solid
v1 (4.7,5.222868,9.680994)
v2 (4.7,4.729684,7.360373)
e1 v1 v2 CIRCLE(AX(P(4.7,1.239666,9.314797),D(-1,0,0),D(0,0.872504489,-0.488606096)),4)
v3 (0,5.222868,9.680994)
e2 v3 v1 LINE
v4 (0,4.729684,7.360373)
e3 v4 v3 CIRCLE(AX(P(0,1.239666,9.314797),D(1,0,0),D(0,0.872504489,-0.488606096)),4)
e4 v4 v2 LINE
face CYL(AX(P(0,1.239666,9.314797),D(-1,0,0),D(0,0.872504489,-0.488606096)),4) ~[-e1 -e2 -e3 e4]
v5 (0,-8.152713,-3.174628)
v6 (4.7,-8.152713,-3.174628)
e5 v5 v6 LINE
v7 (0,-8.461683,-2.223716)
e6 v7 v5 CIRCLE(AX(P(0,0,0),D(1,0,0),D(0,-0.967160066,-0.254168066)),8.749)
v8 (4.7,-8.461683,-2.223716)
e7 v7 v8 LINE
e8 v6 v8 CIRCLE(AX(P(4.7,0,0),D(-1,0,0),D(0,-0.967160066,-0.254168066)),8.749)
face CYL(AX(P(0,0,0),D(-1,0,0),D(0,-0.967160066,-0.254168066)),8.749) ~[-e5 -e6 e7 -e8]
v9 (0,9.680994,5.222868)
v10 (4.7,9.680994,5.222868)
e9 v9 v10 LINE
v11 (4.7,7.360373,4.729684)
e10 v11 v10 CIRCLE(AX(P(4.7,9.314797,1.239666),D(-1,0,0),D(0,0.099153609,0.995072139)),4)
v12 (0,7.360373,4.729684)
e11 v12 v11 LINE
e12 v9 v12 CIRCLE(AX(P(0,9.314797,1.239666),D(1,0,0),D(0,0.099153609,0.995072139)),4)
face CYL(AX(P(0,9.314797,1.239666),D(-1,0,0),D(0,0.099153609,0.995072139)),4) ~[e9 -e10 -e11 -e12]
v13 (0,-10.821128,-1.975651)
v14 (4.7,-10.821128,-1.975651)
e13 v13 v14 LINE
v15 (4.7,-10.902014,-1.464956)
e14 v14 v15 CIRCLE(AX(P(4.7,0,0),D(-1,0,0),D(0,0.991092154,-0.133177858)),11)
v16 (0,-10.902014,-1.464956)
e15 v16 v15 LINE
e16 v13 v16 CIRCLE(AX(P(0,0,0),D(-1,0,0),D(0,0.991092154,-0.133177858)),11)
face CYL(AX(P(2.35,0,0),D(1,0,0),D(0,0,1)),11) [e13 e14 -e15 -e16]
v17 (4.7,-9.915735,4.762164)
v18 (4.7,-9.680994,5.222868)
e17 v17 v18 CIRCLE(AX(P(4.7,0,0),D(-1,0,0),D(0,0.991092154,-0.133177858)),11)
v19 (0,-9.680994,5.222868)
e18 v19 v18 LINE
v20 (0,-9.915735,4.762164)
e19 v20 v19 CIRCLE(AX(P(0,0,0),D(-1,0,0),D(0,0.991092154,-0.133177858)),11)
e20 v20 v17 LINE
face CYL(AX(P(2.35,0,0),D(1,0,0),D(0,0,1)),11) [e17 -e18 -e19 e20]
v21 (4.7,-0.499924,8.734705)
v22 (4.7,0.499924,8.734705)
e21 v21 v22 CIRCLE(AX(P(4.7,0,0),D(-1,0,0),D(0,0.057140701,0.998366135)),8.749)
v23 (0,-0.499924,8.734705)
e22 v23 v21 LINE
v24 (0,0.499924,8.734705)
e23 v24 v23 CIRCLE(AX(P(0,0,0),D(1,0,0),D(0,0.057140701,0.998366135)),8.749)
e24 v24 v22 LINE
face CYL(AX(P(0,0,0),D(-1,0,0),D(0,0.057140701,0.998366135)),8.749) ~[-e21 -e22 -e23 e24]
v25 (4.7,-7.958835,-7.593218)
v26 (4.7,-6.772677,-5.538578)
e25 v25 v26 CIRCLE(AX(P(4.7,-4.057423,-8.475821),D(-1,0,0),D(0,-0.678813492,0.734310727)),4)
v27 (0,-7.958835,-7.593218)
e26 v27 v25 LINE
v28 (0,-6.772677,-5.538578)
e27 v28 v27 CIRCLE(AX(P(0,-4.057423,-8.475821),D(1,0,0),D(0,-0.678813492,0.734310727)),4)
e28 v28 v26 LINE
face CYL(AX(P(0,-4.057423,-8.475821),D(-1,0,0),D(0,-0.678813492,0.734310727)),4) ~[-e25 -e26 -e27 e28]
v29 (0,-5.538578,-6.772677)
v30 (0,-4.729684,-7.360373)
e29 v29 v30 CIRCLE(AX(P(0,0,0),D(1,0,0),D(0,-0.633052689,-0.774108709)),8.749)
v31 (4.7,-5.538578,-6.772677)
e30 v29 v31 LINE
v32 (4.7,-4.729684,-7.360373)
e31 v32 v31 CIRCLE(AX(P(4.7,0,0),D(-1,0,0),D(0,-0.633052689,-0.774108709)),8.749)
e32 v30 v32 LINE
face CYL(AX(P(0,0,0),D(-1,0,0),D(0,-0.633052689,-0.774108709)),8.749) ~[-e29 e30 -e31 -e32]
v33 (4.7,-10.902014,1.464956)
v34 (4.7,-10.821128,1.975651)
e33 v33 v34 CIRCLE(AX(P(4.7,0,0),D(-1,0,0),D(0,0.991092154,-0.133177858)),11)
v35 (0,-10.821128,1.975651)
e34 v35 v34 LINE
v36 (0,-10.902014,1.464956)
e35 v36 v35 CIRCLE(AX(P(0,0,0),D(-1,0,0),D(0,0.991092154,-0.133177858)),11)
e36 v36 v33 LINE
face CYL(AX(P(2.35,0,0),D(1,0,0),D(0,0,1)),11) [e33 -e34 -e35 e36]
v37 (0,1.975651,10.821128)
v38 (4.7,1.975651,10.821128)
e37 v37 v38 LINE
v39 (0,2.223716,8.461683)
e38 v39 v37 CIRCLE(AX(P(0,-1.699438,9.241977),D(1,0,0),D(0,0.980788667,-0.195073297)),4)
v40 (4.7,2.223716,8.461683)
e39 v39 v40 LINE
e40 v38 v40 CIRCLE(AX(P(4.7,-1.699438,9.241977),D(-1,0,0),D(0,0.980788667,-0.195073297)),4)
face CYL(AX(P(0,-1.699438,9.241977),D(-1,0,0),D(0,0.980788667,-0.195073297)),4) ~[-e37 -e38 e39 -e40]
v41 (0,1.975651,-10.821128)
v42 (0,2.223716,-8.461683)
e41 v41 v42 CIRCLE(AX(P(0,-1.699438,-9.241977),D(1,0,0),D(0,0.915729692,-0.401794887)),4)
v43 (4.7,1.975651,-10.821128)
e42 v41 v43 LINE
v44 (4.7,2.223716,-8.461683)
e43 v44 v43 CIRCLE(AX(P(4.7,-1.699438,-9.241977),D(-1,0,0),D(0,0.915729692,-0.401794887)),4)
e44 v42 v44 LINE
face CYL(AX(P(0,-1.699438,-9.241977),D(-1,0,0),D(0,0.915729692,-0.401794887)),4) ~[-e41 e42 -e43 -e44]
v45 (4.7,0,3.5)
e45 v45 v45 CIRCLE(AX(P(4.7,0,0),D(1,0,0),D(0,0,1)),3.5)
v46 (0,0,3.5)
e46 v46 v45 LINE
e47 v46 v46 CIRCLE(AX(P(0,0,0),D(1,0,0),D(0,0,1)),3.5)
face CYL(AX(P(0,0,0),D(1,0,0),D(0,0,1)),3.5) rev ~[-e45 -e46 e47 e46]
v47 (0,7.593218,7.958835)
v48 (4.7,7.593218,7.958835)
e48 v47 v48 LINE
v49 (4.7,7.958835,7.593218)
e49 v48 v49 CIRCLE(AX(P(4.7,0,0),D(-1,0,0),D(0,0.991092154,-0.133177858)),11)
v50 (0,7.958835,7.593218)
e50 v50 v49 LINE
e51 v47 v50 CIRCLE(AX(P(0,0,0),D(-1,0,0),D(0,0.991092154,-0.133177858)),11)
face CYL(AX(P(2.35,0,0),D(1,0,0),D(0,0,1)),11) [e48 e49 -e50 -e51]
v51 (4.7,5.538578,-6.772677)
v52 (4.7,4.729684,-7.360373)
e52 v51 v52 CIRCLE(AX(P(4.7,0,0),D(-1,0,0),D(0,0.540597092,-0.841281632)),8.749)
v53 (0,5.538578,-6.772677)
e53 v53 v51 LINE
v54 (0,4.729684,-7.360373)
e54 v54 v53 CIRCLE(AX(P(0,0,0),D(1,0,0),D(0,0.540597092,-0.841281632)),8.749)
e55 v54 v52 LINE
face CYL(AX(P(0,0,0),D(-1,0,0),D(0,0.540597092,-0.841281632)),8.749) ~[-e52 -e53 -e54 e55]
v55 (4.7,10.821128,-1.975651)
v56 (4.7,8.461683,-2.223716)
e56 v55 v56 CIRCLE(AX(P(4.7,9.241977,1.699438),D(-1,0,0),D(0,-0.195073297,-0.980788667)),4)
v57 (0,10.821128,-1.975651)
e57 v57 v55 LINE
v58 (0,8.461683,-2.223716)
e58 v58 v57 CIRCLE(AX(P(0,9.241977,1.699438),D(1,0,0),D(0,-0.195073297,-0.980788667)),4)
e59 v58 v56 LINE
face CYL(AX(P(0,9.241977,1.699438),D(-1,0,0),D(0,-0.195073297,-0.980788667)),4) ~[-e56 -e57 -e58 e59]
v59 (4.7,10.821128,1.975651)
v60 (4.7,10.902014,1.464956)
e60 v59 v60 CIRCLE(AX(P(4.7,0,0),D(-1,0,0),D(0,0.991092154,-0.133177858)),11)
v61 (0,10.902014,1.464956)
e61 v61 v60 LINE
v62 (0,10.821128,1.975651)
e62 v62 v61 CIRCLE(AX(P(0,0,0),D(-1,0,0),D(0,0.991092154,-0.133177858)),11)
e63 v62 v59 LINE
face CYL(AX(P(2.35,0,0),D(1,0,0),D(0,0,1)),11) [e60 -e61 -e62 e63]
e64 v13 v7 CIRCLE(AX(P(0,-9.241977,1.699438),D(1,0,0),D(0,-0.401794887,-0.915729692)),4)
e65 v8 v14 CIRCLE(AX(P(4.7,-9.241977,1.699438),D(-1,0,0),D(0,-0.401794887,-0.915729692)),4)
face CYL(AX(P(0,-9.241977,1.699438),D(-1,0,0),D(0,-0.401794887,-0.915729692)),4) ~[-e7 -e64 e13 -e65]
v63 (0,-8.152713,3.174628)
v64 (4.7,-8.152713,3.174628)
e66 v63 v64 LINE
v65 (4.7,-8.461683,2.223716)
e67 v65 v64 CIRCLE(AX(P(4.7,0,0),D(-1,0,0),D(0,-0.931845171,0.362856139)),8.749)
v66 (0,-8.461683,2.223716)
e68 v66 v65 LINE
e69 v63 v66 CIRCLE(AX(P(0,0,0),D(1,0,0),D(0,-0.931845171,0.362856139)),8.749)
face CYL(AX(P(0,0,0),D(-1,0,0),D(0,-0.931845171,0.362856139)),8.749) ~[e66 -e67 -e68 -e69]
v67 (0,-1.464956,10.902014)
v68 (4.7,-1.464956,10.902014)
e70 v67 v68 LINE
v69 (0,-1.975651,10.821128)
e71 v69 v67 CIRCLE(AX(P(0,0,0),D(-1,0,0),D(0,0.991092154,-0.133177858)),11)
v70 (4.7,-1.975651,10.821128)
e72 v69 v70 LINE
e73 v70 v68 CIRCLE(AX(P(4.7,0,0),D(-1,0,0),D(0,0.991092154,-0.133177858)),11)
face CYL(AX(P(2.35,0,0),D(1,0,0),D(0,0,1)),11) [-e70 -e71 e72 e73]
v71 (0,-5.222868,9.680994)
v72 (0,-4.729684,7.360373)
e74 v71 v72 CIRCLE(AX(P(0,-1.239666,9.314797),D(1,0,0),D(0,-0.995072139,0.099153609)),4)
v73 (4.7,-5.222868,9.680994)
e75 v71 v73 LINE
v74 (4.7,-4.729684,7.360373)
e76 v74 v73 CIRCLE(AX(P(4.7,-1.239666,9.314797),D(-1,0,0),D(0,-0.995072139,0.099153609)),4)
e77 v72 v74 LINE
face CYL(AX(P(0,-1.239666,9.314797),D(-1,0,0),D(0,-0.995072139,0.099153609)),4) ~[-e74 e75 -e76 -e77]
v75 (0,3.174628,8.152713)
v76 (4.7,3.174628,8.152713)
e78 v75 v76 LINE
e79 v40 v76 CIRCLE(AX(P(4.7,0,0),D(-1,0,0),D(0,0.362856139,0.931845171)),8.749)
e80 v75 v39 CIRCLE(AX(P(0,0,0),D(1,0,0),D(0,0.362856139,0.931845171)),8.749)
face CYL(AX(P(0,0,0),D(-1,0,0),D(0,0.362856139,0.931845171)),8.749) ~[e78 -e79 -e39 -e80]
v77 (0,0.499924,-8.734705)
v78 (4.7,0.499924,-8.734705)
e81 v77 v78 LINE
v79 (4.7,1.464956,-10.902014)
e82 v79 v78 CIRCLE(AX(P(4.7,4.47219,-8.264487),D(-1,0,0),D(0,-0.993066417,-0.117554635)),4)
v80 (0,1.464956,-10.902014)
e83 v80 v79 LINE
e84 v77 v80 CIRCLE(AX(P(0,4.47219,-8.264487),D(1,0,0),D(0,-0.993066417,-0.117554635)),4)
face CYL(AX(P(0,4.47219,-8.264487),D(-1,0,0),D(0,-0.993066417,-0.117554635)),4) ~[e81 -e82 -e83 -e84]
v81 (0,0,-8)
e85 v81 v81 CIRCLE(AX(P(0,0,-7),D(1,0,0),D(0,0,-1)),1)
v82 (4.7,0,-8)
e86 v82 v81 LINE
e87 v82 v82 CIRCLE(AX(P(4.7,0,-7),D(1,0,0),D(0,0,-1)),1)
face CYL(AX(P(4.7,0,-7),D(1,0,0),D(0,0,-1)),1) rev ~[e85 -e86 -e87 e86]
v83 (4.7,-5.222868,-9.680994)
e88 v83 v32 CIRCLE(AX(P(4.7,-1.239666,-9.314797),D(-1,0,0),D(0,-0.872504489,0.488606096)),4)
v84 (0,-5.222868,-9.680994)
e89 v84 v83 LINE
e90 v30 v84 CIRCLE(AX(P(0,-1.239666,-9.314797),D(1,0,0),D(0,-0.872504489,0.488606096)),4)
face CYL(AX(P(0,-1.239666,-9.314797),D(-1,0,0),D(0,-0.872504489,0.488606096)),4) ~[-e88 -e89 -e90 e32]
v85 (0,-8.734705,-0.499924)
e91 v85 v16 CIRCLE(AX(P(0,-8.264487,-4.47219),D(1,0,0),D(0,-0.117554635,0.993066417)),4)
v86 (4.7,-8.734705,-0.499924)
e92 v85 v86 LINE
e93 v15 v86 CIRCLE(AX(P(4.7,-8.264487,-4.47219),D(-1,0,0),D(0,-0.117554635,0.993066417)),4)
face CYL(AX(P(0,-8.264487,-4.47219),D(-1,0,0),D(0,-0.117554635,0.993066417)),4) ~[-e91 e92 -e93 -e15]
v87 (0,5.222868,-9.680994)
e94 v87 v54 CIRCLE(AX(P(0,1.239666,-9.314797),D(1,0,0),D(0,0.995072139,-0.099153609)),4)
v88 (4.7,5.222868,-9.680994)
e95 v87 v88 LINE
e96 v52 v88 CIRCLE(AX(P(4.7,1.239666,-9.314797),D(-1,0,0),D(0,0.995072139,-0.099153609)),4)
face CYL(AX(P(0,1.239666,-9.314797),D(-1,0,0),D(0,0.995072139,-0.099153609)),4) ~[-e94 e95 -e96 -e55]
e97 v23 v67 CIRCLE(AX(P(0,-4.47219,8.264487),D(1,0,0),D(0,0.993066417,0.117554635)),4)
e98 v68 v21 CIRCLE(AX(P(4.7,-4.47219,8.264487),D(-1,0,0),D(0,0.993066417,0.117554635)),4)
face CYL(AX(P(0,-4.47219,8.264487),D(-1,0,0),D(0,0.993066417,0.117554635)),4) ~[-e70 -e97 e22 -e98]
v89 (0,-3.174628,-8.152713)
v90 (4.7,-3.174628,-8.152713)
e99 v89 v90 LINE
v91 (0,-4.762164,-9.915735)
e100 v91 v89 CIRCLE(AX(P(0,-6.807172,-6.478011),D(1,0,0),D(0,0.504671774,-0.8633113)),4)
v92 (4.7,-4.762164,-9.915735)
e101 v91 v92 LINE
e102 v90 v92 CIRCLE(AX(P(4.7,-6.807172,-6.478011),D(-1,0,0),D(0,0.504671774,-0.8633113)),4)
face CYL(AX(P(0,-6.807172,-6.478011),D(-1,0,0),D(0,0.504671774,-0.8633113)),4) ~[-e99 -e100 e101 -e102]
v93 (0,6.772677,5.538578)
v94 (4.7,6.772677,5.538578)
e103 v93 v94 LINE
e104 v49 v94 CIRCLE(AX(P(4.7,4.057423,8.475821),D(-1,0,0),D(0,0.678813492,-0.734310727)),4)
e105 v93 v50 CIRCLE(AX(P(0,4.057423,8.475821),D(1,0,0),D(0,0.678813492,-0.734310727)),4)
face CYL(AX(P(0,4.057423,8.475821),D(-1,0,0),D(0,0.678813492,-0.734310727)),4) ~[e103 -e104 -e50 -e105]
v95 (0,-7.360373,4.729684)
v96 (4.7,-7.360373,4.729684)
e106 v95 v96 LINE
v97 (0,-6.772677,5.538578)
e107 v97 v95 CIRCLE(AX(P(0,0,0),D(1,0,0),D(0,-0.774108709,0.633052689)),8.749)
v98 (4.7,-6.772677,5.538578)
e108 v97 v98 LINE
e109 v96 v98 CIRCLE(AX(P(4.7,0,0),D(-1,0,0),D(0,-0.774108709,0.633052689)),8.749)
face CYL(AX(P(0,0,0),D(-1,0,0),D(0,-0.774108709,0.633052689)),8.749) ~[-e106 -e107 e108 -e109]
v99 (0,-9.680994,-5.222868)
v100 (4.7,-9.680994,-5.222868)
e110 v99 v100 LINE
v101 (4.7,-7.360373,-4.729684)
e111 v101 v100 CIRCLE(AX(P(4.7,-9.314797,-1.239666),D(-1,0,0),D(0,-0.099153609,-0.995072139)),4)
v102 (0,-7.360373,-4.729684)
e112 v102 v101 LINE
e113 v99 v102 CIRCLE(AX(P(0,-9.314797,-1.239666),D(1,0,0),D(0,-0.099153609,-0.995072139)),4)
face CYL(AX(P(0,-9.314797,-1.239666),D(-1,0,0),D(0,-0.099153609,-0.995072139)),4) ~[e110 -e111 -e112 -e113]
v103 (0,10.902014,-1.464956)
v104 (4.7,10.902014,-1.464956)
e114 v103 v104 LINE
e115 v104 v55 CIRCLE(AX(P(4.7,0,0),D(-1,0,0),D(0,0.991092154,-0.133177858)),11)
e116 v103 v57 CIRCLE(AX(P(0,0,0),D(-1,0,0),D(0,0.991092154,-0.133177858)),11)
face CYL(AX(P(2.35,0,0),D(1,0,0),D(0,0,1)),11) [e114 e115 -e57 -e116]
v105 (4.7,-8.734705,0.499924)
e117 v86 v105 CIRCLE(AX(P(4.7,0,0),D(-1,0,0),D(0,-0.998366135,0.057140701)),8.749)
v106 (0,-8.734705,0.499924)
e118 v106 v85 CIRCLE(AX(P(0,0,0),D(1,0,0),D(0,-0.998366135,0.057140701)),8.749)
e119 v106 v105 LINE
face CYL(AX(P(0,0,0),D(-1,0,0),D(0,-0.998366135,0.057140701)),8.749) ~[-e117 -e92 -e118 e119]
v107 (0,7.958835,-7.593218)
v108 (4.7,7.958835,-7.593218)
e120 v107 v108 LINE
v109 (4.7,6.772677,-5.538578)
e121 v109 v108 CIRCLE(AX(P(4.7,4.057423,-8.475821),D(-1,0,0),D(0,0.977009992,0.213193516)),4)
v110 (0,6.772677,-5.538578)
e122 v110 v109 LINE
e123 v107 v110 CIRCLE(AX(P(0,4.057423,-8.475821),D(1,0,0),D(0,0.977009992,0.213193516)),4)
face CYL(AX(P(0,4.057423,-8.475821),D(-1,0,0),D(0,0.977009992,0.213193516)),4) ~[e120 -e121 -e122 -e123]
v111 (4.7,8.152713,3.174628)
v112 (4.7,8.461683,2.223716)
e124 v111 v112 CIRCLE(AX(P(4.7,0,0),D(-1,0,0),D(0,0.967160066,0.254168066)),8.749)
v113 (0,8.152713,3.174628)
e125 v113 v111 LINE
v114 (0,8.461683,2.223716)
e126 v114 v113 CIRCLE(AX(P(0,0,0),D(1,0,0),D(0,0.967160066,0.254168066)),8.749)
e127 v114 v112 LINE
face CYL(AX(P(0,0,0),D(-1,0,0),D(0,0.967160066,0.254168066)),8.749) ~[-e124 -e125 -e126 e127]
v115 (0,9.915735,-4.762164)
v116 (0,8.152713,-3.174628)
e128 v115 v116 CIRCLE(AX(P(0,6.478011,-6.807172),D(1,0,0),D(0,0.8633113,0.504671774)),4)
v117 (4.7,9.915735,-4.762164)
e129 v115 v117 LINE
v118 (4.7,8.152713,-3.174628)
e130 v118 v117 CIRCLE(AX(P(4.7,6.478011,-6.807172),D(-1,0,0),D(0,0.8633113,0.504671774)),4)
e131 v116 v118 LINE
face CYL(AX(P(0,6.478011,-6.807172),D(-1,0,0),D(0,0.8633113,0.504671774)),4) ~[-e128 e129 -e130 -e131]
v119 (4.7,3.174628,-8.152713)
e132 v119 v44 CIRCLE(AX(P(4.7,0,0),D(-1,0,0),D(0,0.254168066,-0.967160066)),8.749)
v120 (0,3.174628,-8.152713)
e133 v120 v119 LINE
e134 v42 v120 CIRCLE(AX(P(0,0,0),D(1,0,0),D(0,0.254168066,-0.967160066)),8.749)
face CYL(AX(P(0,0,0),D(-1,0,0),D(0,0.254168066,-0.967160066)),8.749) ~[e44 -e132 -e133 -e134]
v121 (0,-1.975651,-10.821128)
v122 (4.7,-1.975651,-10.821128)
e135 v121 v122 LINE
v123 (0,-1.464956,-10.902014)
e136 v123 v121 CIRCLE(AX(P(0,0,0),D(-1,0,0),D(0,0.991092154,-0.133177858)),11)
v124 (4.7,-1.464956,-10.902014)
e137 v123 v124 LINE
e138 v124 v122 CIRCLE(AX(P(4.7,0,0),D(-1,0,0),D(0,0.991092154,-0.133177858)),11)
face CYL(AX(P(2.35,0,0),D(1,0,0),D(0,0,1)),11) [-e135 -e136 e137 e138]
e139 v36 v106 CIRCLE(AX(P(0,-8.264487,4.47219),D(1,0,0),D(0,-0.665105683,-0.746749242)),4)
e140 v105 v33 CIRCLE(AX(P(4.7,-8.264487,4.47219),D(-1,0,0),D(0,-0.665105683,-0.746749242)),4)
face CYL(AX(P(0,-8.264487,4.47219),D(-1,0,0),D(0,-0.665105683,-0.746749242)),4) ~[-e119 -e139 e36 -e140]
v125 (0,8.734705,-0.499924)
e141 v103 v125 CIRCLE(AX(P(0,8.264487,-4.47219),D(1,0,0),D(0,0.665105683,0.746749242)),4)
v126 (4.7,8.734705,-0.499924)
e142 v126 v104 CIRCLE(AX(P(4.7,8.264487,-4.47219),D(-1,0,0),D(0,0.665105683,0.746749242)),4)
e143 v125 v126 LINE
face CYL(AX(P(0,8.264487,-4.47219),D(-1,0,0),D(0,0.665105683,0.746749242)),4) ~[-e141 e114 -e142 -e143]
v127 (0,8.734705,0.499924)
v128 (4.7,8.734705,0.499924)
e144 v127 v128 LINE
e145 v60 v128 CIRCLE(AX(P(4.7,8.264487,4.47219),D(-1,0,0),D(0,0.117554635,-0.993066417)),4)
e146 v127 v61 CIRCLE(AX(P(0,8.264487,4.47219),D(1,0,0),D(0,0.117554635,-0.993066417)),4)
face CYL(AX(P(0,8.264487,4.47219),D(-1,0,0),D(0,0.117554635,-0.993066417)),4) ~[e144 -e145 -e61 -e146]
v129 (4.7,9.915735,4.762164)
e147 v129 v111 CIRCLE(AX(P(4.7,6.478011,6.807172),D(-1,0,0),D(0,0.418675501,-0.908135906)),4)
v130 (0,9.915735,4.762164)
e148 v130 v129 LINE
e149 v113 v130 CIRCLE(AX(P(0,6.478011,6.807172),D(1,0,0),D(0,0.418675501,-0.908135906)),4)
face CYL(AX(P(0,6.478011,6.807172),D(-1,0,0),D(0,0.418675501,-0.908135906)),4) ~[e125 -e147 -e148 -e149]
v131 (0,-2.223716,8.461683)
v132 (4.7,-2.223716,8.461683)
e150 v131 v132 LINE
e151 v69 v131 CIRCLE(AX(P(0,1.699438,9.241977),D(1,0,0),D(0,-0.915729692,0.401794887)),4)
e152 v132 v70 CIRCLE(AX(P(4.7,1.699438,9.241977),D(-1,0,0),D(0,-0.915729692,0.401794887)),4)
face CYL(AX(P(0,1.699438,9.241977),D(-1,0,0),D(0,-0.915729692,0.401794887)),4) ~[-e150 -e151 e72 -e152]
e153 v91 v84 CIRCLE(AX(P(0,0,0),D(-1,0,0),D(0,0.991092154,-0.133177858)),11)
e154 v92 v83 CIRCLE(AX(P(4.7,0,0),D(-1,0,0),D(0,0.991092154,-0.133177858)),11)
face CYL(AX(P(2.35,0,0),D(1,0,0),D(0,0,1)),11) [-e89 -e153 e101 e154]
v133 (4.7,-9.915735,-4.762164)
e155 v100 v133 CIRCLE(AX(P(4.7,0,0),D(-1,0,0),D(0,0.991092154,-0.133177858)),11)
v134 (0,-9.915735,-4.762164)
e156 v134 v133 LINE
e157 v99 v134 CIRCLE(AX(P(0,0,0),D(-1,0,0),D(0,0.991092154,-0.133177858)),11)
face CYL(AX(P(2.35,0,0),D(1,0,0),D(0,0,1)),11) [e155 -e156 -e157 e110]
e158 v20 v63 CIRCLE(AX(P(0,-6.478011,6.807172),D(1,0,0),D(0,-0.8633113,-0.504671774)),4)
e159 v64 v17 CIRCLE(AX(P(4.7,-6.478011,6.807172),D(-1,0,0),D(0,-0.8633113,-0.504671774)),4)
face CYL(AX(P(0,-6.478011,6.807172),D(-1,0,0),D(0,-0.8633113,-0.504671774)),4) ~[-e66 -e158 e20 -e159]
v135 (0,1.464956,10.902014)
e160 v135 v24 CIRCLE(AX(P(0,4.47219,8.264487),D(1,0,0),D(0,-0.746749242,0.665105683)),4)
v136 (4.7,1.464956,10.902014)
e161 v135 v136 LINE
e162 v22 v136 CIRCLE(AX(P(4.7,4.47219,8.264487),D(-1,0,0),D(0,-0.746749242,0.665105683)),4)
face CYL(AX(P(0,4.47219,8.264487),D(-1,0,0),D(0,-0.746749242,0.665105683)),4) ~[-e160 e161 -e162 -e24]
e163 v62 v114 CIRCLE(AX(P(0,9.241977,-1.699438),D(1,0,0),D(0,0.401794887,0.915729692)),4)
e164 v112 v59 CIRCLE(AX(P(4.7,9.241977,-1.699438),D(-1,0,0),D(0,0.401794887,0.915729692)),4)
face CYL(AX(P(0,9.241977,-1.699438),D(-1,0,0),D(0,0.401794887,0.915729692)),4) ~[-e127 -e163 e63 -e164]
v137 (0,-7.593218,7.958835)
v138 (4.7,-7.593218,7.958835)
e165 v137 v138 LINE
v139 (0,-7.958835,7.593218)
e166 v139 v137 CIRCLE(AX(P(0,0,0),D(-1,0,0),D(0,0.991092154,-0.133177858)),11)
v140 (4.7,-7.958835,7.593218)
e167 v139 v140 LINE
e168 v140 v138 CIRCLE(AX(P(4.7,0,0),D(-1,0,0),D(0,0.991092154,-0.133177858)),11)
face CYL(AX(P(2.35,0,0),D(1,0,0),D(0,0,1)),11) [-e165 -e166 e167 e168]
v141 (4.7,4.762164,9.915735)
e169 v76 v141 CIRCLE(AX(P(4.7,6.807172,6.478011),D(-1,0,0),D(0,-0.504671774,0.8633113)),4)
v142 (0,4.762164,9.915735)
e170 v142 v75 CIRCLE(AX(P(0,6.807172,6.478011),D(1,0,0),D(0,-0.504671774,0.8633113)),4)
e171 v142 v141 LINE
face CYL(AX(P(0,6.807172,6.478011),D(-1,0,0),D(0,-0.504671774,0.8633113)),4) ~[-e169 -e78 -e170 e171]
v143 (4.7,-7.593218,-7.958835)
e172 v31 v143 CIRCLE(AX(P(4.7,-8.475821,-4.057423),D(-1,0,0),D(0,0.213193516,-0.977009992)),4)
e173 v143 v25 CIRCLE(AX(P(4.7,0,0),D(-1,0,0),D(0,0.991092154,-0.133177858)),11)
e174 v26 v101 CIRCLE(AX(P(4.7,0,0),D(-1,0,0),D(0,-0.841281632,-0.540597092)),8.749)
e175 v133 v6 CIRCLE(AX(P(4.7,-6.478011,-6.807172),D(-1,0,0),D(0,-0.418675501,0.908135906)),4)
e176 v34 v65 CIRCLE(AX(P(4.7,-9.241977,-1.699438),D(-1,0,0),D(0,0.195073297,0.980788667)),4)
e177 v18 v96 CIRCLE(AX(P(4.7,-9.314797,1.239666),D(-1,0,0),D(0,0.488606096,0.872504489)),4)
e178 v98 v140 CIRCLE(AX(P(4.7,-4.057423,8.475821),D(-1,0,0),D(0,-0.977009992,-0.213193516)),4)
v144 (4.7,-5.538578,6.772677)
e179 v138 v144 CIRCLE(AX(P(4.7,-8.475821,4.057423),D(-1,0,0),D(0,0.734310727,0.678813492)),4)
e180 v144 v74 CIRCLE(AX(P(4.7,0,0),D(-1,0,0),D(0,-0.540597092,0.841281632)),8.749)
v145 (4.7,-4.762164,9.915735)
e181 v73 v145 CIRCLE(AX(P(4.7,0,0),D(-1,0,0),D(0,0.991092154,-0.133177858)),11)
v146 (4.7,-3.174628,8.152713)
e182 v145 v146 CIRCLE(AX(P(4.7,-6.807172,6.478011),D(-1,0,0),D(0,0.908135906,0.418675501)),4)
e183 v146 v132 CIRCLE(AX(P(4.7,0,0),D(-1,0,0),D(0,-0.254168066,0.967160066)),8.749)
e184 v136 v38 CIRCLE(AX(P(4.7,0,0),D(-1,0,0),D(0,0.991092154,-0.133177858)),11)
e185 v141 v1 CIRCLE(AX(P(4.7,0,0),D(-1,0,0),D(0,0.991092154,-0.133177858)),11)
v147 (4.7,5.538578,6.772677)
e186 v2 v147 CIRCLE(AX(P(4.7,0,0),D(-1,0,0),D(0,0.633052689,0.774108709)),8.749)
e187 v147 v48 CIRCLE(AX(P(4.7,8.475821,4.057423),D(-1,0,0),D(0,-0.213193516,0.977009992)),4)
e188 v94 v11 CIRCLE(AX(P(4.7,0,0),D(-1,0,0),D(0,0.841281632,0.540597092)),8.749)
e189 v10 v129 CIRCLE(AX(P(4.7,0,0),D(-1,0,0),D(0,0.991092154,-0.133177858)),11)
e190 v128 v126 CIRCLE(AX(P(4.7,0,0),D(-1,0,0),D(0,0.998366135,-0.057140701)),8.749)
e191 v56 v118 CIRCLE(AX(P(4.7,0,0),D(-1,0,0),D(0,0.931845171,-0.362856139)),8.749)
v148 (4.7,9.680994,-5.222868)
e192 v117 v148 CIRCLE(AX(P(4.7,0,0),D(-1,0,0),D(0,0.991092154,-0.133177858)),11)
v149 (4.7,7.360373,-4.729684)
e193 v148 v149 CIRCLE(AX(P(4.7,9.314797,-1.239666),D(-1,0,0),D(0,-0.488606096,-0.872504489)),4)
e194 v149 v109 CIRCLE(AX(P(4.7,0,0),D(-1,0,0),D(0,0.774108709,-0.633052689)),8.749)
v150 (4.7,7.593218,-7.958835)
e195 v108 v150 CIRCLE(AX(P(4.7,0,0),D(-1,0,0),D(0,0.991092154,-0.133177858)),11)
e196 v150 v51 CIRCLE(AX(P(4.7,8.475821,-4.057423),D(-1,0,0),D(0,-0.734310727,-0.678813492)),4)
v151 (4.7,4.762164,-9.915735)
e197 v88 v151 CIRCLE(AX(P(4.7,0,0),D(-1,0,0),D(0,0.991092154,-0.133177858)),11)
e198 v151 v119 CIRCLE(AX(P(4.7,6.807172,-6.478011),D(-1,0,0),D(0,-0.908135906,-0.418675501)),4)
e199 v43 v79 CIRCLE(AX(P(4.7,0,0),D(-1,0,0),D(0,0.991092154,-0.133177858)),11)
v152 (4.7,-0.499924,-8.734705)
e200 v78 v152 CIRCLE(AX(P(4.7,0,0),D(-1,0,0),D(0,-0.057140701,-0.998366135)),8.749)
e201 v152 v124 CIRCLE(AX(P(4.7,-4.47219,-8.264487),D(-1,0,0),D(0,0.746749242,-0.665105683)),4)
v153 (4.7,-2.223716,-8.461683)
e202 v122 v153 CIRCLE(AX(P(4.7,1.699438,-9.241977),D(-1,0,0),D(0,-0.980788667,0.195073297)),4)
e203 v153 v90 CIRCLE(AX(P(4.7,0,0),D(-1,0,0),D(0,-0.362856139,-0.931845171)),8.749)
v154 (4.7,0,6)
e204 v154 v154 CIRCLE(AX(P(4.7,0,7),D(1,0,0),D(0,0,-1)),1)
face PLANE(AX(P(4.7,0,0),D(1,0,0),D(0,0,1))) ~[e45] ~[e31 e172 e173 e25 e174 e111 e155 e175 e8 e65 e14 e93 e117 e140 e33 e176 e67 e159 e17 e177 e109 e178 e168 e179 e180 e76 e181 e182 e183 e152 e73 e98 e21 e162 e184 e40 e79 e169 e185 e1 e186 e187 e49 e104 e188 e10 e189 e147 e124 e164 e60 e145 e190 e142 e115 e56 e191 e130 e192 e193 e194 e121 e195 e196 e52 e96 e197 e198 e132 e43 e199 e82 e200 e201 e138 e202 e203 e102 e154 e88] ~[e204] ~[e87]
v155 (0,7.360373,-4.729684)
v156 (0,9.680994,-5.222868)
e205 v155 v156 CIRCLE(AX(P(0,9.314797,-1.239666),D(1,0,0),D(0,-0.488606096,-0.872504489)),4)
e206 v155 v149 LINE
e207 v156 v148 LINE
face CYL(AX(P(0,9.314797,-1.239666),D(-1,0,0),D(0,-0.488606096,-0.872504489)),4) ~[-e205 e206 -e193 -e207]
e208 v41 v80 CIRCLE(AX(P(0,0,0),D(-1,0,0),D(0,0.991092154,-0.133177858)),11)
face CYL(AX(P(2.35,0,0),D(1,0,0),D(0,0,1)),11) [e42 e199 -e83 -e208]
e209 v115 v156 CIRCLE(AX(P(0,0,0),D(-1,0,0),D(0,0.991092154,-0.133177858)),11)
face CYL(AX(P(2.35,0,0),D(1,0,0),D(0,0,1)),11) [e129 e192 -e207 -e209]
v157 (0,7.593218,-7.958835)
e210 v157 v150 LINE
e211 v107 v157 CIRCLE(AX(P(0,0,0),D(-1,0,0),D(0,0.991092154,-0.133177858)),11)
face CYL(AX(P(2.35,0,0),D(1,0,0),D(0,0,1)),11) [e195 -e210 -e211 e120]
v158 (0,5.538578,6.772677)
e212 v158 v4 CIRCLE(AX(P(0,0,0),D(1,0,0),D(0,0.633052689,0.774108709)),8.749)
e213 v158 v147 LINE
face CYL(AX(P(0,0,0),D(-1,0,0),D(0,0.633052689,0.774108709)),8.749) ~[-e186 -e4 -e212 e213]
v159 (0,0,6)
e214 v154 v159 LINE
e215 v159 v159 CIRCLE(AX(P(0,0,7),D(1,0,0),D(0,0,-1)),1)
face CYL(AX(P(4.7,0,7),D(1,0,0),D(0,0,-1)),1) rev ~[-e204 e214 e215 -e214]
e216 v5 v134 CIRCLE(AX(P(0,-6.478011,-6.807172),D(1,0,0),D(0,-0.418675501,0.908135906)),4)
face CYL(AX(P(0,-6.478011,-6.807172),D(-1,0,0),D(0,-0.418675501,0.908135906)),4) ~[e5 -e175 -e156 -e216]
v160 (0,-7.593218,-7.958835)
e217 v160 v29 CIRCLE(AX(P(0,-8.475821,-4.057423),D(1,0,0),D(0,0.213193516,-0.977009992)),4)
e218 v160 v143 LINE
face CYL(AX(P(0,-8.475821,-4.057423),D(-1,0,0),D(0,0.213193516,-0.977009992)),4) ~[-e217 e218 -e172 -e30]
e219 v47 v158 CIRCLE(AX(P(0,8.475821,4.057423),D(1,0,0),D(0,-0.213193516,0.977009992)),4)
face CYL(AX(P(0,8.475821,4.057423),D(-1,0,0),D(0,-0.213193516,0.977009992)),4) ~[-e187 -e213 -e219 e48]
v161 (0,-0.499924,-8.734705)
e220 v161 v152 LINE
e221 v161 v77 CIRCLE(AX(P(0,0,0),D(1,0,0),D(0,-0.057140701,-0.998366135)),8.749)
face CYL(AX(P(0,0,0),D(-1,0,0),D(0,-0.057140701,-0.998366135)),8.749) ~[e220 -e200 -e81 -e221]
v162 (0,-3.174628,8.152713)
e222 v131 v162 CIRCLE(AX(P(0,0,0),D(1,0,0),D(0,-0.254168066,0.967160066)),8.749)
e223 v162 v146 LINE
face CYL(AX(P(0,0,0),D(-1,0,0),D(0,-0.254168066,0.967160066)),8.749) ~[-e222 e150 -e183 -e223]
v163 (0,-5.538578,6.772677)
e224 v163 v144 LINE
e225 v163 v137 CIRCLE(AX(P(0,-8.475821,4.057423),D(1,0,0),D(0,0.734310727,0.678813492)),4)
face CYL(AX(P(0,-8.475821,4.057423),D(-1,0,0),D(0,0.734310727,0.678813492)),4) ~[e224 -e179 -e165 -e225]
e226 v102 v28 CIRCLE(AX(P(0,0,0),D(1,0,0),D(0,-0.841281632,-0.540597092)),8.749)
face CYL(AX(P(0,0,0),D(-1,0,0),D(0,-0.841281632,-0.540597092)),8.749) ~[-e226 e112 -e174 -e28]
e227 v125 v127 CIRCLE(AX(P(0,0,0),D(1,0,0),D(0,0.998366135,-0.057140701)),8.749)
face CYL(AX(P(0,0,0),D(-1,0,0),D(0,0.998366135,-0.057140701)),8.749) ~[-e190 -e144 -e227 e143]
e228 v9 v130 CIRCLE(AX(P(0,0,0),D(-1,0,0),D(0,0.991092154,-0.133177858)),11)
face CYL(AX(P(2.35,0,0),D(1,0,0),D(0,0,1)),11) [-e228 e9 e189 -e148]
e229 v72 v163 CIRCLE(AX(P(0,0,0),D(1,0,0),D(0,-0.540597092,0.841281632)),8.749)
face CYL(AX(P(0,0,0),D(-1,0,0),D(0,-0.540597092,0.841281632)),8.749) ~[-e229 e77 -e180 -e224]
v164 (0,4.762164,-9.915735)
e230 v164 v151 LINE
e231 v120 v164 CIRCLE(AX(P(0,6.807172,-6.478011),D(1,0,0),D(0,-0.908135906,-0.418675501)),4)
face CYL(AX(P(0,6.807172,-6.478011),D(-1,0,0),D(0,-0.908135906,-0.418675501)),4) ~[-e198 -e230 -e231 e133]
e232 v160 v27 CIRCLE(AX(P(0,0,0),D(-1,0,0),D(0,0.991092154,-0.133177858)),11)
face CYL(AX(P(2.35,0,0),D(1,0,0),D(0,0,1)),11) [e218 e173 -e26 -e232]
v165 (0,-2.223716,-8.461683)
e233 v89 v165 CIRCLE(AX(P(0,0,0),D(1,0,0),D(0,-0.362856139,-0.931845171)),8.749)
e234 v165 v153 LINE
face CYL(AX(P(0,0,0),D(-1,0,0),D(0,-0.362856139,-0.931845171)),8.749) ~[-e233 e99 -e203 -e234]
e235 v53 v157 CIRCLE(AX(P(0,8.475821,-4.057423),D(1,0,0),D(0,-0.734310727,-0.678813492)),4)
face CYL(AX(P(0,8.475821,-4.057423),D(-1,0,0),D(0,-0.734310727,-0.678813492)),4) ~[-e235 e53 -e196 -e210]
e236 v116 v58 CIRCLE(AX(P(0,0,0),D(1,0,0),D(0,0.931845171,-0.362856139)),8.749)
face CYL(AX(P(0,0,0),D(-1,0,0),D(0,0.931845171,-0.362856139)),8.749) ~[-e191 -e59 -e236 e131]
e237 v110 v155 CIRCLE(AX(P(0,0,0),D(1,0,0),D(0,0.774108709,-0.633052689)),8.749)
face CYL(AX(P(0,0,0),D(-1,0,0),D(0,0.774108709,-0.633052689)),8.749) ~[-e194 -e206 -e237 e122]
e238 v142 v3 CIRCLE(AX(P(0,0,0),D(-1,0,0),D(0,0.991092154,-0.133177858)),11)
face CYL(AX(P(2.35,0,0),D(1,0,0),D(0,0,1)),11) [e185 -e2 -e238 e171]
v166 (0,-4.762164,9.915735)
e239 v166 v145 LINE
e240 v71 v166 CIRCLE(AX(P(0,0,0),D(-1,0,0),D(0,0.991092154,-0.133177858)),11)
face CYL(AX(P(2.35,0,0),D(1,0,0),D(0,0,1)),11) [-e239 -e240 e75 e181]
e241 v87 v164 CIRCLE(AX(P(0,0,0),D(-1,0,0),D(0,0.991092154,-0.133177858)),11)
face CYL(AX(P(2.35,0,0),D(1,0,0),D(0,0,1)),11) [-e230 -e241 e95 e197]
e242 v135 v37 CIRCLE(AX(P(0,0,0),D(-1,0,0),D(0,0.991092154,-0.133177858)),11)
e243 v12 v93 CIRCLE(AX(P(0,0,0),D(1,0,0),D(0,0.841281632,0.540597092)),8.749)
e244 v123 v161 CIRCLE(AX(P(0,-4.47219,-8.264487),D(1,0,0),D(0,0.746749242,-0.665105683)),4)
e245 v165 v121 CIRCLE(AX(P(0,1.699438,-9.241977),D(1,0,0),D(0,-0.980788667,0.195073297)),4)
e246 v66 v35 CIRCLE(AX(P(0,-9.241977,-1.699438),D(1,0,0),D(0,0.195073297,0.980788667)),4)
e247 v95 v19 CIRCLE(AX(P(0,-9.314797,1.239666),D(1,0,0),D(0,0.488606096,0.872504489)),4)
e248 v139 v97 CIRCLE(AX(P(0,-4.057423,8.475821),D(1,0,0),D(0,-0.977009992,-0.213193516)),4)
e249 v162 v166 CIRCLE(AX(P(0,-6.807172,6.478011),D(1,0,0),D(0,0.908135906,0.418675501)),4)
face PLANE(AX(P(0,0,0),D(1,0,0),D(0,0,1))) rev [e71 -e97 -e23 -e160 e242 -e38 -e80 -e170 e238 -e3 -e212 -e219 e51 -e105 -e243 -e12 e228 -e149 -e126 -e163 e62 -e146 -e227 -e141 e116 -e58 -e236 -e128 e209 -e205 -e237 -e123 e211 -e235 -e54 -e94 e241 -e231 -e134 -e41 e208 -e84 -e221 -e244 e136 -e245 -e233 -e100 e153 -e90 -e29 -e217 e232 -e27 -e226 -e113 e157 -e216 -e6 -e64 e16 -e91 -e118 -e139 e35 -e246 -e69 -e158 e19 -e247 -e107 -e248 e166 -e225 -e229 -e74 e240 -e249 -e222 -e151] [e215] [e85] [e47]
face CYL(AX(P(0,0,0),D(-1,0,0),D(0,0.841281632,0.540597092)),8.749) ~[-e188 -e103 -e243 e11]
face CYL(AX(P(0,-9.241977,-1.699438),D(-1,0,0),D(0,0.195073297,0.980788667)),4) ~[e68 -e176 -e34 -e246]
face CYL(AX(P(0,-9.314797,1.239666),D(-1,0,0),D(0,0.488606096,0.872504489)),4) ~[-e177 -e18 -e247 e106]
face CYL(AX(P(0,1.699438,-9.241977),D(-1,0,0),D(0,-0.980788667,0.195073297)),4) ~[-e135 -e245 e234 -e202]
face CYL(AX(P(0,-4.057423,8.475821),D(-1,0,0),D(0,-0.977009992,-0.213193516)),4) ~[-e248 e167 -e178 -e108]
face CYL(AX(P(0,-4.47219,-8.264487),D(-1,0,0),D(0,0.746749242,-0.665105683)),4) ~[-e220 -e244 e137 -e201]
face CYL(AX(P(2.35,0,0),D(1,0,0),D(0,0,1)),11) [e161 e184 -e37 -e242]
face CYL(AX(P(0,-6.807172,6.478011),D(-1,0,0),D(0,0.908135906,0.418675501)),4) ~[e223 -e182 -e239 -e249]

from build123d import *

# Parameters (mm, degrees)
BASPROSKE_W        = 4.7
BASPROSKE_H        = 11
TOOTHCUT_DEPTH     = 17.250846132
TEETHCUTS_COUNT    = 20
TEETHCUTS_ANGLE    = 342
BORSKE_R           = 3.5
BORE_DEPTH         = 50.0000508
SKETCH1_R          = 1
CUT_EXTRUDE1_DEPTH = 17.118244485


with BuildPart() as part:
    # BasProSke → Base-Revolve (revolve)
    with BuildSketch(Plane(origin=(0, 0, 0), x_dir=(1, 0, 0), z_dir=(0, 1, 0)), mode=Mode.PRIVATE) as base_revolve_sk:
        with Locations((2.35, 5.5)):
            Rectangle(BASPROSKE_W, BASPROSKE_H)
    revolve(base_revolve_sk.sketch.rotate(Axis((-10, 0, 0), (1, 0, 0)), 180), axis=Axis((-10, 0, 0), (1, 0, 0)))

    # TooCutSke → ToothCut (cut, through all)
    with BuildSketch(Plane(origin=(0, 0, 0), x_dir=(0, 0, -1), z_dir=(1, 0, 0))):
        with BuildLine():
            ThreePointArc((0.499924007, 8.734705318), (0, 8.749), (-0.499924007, 8.734705318))
            ThreePointArc((-0.499924007, 8.734705318), (-0.824302243, 9.905497836), (-1.485192705, 10.924909509))
            ThreePointArc((-1.485192705, 10.924909509), (0, 11.0254), (1.485192705, 10.924909509))
            ThreePointArc((1.485192705, 10.924909509), (0.824302243, 9.905497836), (0.499924007, 8.734705318))
        make_face()
    toothcut = extrude(amount=TOOTHCUT_DEPTH, mode=Mode.SUBTRACT)

    # TeethCuts: ToothCut ×20 about axis
    teethcuts_axis = Axis((-10, 0, 0), (1, 0, 0))
    for i in range(1, TEETHCUTS_COUNT):
        add(toothcut.rotate(teethcuts_axis, i * TEETHCUTS_ANGLE / (TEETHCUTS_COUNT - 1)), mode=Mode.SUBTRACT)

    # BorSke → Bore (cut, symmetric)
    with BuildSketch(Plane(origin=(0, 0, 0), x_dir=(0, 0, -1), z_dir=(1, 0, 0))):
        with Locations(Location((0, 0, 0), (0, 0, 180))):
            Circle(BORSKE_R)
    extrude(amount=BORE_DEPTH, both=True, mode=Mode.SUBTRACT)

    # Sketch1 → Cut-Extrude1 (cut, through all)
    with BuildSketch(Plane(origin=(4.7, 0, 0), x_dir=(0, 0, -1), z_dir=(1, 0, 0))):
        with Locations((-7, 0)):
            Circle(SKETCH1_R)
        with Locations((7, 0)):
            Circle(SKETCH1_R)
    extrude(amount=-CUT_EXTRUDE1_DEPTH, mode=Mode.SUBTRACT)


solid = part.part
